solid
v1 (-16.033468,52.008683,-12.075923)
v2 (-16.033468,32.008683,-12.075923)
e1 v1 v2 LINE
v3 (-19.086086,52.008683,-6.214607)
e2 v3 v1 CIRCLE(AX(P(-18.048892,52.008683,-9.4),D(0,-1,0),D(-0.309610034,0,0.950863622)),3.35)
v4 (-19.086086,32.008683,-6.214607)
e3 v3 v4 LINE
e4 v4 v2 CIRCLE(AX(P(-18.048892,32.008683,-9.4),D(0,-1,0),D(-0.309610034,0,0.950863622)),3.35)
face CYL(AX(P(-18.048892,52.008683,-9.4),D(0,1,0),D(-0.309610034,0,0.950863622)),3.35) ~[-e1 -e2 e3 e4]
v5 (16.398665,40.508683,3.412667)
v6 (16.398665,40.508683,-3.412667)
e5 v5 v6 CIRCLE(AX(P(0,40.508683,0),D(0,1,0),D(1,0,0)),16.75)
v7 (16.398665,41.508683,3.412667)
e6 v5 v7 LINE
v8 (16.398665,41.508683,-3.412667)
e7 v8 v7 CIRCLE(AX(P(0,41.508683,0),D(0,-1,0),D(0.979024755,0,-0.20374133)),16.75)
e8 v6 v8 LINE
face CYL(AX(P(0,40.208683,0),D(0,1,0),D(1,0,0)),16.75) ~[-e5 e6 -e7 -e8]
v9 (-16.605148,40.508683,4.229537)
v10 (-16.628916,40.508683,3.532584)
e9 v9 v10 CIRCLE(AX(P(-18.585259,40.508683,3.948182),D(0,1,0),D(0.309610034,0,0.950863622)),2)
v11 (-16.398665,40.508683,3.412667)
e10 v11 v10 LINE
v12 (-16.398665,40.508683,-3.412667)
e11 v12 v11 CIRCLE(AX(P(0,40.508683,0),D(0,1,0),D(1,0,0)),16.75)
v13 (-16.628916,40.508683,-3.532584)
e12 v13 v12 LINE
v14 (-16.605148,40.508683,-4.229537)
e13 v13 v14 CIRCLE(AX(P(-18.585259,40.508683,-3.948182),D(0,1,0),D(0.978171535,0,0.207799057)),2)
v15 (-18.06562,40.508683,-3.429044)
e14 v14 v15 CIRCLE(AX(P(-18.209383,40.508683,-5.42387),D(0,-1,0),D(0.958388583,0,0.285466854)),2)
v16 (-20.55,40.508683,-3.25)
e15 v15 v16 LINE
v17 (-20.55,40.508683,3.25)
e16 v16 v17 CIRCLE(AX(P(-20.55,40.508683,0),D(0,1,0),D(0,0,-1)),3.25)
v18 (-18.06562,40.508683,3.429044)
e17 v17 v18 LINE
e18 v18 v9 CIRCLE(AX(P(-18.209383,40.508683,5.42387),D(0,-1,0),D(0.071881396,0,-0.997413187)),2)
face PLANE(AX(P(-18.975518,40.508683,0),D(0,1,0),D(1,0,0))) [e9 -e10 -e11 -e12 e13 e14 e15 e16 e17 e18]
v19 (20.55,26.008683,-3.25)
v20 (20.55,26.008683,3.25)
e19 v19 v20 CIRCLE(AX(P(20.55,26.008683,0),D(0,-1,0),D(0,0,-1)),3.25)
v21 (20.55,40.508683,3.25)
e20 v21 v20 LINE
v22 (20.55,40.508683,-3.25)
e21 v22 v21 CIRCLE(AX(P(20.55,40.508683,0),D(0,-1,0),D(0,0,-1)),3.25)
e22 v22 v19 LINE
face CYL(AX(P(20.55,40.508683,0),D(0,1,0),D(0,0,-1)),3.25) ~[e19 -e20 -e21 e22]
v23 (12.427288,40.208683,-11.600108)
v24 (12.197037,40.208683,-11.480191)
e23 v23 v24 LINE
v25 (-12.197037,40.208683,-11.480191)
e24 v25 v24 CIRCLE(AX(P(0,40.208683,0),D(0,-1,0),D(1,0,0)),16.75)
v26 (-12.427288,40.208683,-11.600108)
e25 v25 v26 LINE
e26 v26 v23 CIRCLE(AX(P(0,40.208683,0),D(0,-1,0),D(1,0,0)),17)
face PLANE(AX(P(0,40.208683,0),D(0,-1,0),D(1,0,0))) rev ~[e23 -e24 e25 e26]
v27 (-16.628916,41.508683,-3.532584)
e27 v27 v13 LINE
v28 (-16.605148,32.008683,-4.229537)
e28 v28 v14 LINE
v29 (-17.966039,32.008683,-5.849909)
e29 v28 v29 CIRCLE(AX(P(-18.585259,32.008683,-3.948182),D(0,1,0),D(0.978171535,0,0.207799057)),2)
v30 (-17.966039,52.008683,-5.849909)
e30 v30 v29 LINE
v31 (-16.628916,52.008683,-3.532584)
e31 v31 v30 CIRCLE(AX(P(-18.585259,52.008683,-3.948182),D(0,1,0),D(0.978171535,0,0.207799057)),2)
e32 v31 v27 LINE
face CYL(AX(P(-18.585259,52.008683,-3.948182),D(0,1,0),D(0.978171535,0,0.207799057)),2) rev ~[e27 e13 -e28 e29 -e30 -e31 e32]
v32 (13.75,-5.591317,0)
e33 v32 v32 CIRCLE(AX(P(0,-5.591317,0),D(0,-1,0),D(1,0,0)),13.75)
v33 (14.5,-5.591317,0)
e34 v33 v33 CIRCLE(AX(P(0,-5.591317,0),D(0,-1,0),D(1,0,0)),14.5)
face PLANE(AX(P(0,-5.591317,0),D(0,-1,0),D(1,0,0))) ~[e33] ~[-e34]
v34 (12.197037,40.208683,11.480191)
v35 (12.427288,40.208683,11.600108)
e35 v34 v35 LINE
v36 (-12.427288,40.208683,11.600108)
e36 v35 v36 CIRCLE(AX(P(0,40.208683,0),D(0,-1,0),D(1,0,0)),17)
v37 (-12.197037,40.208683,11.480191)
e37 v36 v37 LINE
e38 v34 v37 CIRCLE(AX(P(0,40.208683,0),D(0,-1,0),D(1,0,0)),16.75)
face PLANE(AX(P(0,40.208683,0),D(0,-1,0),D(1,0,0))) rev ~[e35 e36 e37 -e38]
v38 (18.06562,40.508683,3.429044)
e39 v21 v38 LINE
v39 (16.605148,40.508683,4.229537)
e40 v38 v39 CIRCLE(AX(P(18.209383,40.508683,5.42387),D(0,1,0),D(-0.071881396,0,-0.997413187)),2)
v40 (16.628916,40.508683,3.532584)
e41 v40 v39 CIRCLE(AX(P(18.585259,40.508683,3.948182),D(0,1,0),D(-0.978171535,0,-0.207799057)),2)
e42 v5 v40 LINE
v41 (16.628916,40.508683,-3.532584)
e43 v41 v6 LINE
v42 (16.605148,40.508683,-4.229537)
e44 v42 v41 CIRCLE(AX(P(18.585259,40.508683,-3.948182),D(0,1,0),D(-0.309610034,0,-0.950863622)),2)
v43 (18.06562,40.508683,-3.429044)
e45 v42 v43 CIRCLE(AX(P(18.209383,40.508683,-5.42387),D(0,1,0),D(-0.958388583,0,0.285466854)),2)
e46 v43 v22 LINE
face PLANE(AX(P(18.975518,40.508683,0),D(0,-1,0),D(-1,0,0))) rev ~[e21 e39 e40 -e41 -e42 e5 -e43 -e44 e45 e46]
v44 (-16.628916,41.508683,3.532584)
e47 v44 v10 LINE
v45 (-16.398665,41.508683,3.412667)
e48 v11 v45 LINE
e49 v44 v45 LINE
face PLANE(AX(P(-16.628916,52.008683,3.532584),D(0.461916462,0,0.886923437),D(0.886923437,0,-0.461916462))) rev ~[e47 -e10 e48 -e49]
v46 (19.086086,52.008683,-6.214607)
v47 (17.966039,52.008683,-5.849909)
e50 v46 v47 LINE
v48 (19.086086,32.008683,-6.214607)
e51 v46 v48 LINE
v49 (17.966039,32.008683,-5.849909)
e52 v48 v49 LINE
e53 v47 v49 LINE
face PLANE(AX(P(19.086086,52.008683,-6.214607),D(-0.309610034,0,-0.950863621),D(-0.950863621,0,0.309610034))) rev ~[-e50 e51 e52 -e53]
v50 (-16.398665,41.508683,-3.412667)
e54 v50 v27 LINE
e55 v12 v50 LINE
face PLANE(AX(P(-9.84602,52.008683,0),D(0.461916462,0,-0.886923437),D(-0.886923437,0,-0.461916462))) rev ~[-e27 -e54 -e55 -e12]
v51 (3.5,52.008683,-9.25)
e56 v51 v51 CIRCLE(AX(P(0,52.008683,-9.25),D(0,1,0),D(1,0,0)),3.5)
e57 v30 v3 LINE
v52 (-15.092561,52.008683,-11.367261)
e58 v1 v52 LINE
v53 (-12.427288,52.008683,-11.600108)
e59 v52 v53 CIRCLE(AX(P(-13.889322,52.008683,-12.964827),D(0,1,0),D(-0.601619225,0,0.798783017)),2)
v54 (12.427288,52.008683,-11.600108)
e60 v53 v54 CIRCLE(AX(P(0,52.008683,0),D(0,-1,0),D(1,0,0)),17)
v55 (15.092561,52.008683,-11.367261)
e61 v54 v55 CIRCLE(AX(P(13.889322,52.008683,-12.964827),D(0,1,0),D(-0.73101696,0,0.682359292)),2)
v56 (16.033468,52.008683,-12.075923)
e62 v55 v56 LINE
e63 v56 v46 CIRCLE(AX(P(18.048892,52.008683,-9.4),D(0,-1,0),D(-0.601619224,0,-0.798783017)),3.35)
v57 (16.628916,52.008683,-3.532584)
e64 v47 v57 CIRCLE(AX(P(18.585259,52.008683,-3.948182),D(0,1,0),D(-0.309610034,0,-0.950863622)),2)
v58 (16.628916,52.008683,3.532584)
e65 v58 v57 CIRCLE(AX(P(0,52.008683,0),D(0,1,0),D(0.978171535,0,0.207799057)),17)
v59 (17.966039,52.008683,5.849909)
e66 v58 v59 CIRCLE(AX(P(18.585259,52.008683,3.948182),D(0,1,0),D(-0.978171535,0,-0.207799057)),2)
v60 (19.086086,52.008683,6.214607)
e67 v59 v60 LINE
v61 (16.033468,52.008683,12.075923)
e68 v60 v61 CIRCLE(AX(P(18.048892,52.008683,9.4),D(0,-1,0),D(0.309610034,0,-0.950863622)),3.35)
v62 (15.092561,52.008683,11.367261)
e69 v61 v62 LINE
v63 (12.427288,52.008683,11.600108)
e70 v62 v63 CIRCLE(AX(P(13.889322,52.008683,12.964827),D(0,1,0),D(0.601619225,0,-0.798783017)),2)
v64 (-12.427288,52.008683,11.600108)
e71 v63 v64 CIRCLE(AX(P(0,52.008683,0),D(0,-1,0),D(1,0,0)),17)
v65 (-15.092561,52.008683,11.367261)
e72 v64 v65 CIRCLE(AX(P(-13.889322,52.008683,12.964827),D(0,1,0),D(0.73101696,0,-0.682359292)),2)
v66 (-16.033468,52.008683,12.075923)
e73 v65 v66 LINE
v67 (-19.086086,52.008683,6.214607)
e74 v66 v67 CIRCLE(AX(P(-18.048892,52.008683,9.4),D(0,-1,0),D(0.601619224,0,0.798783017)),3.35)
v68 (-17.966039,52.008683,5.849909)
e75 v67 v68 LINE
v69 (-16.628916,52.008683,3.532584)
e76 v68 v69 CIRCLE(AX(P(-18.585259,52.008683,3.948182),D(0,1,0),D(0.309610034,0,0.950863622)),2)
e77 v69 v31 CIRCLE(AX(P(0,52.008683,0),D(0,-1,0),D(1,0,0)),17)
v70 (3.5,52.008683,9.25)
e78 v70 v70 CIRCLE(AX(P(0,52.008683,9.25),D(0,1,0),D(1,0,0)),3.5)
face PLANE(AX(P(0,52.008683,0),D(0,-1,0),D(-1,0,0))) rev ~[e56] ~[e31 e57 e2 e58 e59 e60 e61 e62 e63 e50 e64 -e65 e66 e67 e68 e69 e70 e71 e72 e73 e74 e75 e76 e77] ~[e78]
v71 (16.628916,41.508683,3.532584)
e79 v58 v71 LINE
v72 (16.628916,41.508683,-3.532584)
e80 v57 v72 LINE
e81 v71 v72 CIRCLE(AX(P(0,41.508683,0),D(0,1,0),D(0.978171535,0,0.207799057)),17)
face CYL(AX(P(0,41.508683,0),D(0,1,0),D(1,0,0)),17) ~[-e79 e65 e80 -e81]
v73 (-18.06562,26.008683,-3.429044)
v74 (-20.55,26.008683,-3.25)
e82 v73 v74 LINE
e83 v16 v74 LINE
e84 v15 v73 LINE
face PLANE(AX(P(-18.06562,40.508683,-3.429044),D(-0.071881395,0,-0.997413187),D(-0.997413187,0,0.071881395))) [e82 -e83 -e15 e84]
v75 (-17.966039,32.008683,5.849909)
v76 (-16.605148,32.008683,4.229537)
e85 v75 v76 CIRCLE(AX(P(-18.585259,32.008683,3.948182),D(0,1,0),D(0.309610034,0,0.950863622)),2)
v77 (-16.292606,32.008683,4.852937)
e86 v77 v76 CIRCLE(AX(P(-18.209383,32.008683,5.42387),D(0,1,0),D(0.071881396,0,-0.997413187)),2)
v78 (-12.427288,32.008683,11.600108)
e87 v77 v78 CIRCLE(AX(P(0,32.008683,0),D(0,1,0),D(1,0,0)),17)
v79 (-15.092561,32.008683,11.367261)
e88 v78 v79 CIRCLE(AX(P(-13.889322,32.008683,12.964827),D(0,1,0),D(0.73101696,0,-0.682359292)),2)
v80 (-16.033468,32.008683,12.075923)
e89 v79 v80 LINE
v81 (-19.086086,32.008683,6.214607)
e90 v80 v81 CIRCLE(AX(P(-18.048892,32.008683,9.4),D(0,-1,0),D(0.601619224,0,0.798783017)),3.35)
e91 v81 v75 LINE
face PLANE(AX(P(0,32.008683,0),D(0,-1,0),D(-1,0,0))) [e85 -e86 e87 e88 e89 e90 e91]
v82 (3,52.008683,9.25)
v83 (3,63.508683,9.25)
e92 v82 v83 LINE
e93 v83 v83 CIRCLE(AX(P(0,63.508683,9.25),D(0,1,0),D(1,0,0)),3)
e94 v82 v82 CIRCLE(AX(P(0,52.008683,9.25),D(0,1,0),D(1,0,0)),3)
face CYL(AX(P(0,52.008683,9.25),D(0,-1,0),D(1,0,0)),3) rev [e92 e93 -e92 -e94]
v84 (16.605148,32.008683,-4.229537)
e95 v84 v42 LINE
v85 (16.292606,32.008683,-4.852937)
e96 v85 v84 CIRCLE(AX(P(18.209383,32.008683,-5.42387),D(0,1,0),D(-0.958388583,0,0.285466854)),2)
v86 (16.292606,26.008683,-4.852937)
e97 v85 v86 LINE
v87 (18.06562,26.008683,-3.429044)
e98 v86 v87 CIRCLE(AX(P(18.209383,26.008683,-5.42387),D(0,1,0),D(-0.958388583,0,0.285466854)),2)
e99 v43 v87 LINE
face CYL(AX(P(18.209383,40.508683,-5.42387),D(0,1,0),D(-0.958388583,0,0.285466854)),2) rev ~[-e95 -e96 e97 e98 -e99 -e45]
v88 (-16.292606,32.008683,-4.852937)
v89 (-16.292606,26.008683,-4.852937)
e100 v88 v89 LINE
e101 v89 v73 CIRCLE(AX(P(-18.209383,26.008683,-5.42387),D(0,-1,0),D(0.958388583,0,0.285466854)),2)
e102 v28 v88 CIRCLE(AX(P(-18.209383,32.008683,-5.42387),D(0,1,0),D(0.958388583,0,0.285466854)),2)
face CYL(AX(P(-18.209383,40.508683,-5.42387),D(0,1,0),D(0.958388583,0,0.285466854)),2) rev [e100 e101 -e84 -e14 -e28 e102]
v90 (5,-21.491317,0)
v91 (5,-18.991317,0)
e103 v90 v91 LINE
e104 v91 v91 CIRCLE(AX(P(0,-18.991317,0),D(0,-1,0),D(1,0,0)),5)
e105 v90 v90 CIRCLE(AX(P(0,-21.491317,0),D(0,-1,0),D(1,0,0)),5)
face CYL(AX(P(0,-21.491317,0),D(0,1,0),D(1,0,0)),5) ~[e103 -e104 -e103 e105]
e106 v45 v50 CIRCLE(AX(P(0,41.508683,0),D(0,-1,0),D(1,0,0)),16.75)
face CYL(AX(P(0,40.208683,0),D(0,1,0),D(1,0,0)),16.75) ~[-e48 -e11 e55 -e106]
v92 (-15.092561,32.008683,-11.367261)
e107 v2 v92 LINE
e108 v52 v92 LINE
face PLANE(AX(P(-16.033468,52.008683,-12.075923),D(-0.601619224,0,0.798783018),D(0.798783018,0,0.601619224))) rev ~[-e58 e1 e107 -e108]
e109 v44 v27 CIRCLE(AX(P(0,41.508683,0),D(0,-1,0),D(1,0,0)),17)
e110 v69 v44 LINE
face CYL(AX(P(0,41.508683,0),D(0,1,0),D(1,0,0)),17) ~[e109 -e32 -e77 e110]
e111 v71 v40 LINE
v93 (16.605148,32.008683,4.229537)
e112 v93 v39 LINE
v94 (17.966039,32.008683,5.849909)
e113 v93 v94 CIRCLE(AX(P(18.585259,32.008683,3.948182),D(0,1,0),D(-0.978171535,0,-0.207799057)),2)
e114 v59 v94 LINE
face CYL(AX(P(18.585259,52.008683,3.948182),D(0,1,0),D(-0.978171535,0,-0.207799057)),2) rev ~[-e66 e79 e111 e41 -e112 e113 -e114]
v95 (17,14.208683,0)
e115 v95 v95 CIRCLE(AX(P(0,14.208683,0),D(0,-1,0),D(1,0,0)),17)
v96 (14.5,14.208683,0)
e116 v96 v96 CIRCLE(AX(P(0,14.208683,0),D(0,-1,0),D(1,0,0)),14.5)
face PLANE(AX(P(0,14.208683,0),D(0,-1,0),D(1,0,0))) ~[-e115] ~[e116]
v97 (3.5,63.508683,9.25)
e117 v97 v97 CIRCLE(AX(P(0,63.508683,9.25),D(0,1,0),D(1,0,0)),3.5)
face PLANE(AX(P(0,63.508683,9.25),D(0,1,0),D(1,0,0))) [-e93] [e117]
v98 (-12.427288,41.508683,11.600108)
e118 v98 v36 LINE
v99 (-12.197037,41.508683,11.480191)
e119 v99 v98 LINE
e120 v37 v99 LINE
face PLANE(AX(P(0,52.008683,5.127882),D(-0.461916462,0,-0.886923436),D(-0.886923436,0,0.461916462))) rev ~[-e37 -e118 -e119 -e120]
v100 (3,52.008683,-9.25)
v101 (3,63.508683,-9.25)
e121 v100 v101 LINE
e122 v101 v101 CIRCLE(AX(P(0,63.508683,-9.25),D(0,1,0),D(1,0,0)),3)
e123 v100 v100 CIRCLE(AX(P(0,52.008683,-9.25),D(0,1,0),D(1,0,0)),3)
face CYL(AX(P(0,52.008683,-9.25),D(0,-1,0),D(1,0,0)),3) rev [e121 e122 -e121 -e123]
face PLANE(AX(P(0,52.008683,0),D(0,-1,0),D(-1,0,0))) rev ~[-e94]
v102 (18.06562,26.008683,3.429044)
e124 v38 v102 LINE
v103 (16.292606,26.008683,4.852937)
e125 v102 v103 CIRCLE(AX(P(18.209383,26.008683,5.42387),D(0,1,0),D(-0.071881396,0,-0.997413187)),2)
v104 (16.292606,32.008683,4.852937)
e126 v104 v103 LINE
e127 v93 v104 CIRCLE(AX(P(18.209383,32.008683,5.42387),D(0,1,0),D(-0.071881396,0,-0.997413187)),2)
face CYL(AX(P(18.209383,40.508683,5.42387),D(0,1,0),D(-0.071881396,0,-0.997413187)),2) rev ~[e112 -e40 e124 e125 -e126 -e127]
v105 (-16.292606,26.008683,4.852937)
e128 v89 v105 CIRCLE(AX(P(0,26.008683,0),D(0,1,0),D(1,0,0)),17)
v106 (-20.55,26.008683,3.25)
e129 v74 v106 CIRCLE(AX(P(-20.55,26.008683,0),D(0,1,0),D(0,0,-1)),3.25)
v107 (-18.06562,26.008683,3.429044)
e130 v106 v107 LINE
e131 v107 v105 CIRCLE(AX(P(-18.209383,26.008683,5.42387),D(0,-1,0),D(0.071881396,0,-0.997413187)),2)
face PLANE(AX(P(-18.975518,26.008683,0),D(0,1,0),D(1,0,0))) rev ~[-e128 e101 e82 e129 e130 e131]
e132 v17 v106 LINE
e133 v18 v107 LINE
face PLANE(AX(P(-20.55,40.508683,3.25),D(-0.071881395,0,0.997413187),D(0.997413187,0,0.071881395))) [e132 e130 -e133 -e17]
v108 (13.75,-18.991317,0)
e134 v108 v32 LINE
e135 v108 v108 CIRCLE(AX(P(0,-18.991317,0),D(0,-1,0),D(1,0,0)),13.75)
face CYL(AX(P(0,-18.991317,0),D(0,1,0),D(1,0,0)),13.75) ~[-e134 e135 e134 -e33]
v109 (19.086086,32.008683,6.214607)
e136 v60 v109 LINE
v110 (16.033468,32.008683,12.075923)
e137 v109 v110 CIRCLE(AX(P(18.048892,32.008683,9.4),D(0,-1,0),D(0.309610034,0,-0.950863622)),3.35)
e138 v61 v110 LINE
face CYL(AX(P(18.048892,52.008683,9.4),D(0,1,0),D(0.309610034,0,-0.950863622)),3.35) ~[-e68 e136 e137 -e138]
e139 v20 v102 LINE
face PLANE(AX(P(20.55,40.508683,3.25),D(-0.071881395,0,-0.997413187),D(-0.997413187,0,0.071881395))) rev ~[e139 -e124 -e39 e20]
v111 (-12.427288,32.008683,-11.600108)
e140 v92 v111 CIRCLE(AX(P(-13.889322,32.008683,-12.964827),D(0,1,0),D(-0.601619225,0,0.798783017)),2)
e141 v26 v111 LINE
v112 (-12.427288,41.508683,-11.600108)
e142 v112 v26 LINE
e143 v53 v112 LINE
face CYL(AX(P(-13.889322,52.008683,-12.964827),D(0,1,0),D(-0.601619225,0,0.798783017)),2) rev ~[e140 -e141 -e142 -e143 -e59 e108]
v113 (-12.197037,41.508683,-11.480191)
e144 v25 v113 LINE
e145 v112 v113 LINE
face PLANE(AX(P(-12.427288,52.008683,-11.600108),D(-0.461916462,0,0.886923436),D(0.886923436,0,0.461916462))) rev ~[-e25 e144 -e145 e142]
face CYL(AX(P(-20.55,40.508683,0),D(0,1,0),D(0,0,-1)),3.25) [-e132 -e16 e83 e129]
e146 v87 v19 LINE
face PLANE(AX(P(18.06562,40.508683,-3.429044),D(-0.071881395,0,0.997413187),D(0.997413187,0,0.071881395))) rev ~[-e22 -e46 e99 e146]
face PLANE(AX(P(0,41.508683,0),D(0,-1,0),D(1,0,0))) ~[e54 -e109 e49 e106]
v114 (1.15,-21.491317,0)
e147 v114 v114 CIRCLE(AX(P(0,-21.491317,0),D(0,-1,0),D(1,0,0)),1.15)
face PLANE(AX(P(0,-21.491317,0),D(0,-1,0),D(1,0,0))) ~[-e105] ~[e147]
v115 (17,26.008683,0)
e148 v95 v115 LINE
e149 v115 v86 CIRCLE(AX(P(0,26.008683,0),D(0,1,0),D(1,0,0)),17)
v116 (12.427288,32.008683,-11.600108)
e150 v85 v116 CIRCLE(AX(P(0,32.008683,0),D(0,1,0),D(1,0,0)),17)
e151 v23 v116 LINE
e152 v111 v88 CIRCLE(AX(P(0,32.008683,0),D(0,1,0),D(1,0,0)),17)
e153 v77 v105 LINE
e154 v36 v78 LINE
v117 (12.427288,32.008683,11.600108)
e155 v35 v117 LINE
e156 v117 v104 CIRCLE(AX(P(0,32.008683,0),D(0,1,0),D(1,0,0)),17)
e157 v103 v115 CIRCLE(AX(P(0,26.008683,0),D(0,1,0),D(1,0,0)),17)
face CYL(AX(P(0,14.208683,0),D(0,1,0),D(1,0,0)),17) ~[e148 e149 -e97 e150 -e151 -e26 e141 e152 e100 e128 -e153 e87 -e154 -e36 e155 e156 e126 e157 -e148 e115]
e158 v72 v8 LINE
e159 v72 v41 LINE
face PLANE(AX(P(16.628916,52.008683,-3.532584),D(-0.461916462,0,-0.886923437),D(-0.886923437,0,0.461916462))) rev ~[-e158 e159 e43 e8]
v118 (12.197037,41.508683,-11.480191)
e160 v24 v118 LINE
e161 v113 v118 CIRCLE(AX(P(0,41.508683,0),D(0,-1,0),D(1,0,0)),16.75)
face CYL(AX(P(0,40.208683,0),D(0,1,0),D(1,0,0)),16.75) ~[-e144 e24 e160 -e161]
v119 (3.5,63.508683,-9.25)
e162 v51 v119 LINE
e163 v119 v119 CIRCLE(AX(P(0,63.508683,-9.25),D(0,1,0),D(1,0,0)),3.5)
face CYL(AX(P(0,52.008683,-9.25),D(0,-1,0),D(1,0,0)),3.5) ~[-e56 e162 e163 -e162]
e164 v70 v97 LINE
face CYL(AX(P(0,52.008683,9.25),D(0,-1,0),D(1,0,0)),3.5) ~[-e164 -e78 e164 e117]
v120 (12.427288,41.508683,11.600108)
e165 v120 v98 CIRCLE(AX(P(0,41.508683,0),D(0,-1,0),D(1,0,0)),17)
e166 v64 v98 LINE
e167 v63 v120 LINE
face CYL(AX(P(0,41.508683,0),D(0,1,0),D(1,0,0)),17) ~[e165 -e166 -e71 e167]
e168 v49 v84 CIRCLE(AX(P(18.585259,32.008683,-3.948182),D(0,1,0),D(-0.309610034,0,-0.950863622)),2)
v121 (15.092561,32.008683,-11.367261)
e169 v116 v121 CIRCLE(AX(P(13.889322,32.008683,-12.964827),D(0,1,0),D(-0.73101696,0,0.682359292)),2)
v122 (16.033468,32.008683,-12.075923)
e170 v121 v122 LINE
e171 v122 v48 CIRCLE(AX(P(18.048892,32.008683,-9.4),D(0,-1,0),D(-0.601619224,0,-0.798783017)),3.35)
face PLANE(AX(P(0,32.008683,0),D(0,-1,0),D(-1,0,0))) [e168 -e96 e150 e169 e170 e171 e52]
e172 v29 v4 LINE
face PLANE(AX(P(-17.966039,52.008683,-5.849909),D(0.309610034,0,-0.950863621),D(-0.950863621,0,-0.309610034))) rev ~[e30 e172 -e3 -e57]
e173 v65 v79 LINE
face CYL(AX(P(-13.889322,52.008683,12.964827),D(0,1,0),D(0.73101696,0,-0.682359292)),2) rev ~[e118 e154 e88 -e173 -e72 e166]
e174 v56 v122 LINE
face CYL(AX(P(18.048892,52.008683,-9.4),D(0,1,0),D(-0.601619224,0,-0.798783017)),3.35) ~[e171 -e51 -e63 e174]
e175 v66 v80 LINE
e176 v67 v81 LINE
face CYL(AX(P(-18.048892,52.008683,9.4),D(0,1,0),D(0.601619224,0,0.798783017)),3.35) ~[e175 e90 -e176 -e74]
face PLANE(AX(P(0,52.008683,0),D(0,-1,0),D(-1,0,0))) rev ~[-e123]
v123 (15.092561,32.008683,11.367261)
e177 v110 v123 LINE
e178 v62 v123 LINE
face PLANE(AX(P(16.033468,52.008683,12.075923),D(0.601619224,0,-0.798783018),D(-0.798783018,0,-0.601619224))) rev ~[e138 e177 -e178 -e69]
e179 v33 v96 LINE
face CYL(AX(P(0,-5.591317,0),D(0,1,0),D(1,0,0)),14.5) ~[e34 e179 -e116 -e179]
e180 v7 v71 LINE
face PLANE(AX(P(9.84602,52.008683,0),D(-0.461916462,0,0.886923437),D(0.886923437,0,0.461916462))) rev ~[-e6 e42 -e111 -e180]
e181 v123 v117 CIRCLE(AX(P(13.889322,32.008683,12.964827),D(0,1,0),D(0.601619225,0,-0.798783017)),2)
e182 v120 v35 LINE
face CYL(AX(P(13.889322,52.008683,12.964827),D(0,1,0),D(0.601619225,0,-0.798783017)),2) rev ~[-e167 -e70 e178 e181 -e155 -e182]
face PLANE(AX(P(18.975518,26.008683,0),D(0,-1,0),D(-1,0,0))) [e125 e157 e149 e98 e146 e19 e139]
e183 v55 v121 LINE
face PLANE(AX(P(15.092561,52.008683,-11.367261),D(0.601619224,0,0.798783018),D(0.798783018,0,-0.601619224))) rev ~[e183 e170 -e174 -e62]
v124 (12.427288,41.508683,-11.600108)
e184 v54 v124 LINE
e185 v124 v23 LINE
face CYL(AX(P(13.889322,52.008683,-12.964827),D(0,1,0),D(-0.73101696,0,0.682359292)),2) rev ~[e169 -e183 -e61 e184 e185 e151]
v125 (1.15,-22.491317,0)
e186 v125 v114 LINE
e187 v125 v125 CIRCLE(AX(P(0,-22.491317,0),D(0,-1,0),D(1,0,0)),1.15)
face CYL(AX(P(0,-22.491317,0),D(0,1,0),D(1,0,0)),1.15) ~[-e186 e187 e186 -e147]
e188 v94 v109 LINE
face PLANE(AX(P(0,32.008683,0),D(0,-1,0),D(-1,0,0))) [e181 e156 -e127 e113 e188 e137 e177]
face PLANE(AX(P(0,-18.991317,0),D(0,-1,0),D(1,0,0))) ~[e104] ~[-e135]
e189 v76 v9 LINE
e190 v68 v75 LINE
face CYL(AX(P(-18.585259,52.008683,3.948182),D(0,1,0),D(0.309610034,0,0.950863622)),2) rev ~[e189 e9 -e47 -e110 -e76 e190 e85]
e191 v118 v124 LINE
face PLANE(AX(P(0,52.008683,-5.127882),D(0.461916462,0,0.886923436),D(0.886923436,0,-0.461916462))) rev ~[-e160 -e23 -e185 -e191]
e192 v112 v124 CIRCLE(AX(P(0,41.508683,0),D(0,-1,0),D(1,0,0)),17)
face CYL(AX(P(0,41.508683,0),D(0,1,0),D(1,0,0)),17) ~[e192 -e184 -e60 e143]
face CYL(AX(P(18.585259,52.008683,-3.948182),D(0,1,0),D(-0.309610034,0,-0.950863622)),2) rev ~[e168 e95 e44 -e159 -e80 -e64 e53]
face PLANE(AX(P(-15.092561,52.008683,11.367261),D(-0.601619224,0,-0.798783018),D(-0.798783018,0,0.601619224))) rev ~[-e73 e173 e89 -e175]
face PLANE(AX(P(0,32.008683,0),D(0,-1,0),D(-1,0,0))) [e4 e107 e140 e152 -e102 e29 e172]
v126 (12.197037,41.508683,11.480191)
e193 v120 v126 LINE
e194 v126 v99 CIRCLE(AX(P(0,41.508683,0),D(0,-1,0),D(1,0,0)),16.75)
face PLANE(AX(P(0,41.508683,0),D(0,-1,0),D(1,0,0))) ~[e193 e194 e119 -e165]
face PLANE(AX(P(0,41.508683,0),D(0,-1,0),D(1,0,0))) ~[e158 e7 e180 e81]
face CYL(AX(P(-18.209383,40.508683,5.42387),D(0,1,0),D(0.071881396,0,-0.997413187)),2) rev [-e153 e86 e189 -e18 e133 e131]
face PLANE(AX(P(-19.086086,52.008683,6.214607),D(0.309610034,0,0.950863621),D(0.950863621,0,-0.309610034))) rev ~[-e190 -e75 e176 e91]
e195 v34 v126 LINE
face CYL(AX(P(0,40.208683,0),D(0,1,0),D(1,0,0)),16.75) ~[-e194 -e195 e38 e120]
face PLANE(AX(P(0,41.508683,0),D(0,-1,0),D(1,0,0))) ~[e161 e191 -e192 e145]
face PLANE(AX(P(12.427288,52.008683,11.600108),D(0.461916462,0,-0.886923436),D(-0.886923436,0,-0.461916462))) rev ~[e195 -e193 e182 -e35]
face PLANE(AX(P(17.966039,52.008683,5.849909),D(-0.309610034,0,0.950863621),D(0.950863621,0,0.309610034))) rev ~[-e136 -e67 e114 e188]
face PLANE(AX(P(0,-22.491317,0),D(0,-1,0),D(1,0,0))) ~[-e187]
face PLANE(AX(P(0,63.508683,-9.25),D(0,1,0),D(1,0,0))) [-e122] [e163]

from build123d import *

# Parameters (mm, degrees)
RESSALTO_EXTRUS_O1_DEPTH = 20
RESSALTO_EXTRUS_O2_START = -11.5
RESSALTO_EXTRUS_O2_DEPTH = 14.5
ESBO_O4_R                = 3.5
ESBO_O4_R_2              = 3
RESSALTO_EXTRUS_O3_DEPTH = 11.5


with BuildPart() as part:
    # Esboço1 → Revolução1 (revolve)
    with BuildSketch(Plane.XY):
        Polygon((0, 52.008683422), (0, -22.491316578), (1.15, -22.491316578), (1.15, -21.491316578), (5, -21.491316578), (5, -18.991316578), (13.75, -18.991316578), (13.75, -5.591316578), (14.5, -5.591316578), (14.5, 14.208683422), (17, 14.208683422), (17, 40.208683422), (16.75, 40.208683422), (16.75, 41.508683422), (17, 41.508683422), (17, 52.008683422), align=None)
    revolve(axis=Axis((0, 52.008683422, 0), (0, -1, 0)))

    # Esboço2 → Ressalto-extrusão1 (add)
    with BuildSketch(Plane(origin=(0, 52.008683422, 0), x_dir=(1, 0, 0), z_dir=(0, 1, 0))):
        with BuildLine():
            Line((15.092560694, 11.367260519), (16.033467531, 12.075923108))
            ThreePointArc((16.033467531, 12.075923108), (21.020085445, 10.947420147), (19.086085546, 6.214606868))
            Line((19.086085546, 6.214606868), (17.966039096, 5.849909332))
            ThreePointArc((17.966039096, 5.849909332), (16.852954176, 4.947741706), (16.628916094, 3.532583974))
            Line((16.628916094, 3.532583974), (9.846019669, 0))
            Line((9.846019669, 0), (16.628916094, -3.532583974))
            ThreePointArc((16.628916094, -3.532583974), (16.852954176, -4.947741706), (17.966039096, -5.849909332))
            Line((17.966039096, -5.849909332), (19.086085546, -6.214606868))
            ThreePointArc((19.086085546, -6.214606868), (21.020085445, -10.947420147), (16.033467531, -12.075923108))
            Line((16.033467531, -12.075923108), (15.092560694, -11.367260519))
            ThreePointArc((15.092560694, -11.367260519), (13.715258298, -10.972415516), (12.427288325, -11.600107969))
            Line((12.427288325, -11.600107969), (0, -5.127881824))
            Line((0, -5.127881824), (-12.427288325, -11.600107969))
            ThreePointArc((-12.427288325, -11.600107969), (-13.715258298, -10.972415516), (-15.092560694, -11.367260519))
            Line((-15.092560694, -11.367260519), (-16.033467531, -12.075923108))
            ThreePointArc((-16.033467531, -12.075923108), (-21.020085445, -10.947420147), (-19.086085546, -6.214606868))
            Line((-19.086085546, -6.214606868), (-17.966039096, -5.849909332))
            ThreePointArc((-17.966039096, -5.849909332), (-16.852954176, -4.947741706), (-16.628916094, -3.532583974))
            Line((-16.628916094, -3.532583974), (-9.846019669, 0))
            Line((-9.846019669, 0), (-16.628916094, 3.532583974))
            ThreePointArc((-16.628916094, 3.532583974), (-16.852954176, 4.947741706), (-17.966039096, 5.849909332))
            Line((-17.966039096, 5.849909332), (-19.086085546, 6.214606868))
            ThreePointArc((-19.086085546, 6.214606868), (-21.020085445, 10.947420147), (-16.033467531, 12.075923108))
            Line((-16.033467531, 12.075923108), (-15.092560694, 11.367260519))
            ThreePointArc((-15.092560694, 11.367260519), (-13.715258298, 10.972415516), (-12.427288325, 11.600107969))
            Line((-12.427288325, 11.600107969), (0, 5.127881824))
            Line((0, 5.127881824), (12.427288325, 11.600107969))
            ThreePointArc((12.427288325, 11.600107969), (13.715258298, 10.972415516), (15.092560694, 11.367260519))
        make_face()
    extrude(amount=-RESSALTO_EXTRUS_O1_DEPTH)

    # Esboço3 → Ressalto-extrusão2 (add)
    with BuildSketch(Plane(origin=(0, 52.008683422, 0), x_dir=(1, 0, 0), z_dir=(0, 1, 0)).offset(RESSALTO_EXTRUS_O2_START)):
        with BuildLine():
            Line((-20.55, -3.25), (-18.065620285, -3.429043833))
            ThreePointArc((-18.065620285, -3.429043833), (-16.957055718, -3.864486935), (-16.292605909, -4.852936501))
            Line((-16.292605909, -4.852936501), (-16.292605909, 4.852936501))
            ThreePointArc((-16.292605909, 4.852936501), (-16.957055718, 3.864486935), (-18.065620285, 3.429043833))
            Line((-18.065620285, 3.429043833), (-20.55, 3.25))
            ThreePointArc((-20.55, 3.25), (-23.8, 0), (-20.55, -3.25))
        make_face()
        with BuildLine():
            Line((16.292605909, -4.852936501), (16.292605909, 4.852936501))
            ThreePointArc((16.292605909, 4.852936501), (16.957055718, 3.864486935), (18.065620285, 3.429043833))
            Line((18.065620285, 3.429043833), (20.55, 3.25))
            ThreePointArc((20.55, 3.25), (23.8, 0), (20.55, -3.25))
            Line((20.55, -3.25), (18.065620285, -3.429043833))
            ThreePointArc((18.065620285, -3.429043833), (16.957055718, -3.864486935), (16.292605909, -4.852936501))
        make_face()
    extrude(amount=-RESSALTO_EXTRUS_O2_DEPTH)

    # Esboço4 → Ressalto-extrusão3 (add)
    with BuildSketch(Plane(origin=(0, 52.008683422, 0), x_dir=(1, 0, 0), z_dir=(0, 1, 0))):
        with Locations((0, -9.25)):
            Circle(ESBO_O4_R)
        with Locations((0, -9.25)):
            Circle(ESBO_O4_R_2, mode=Mode.SUBTRACT)
        with Locations((0, 9.25)):
            Circle(ESBO_O4_R)
        with Locations((0, 9.25)):
            Circle(ESBO_O4_R_2, mode=Mode.SUBTRACT)
    extrude(amount=RESSALTO_EXTRUS_O3_DEPTH)


solid = part.part
